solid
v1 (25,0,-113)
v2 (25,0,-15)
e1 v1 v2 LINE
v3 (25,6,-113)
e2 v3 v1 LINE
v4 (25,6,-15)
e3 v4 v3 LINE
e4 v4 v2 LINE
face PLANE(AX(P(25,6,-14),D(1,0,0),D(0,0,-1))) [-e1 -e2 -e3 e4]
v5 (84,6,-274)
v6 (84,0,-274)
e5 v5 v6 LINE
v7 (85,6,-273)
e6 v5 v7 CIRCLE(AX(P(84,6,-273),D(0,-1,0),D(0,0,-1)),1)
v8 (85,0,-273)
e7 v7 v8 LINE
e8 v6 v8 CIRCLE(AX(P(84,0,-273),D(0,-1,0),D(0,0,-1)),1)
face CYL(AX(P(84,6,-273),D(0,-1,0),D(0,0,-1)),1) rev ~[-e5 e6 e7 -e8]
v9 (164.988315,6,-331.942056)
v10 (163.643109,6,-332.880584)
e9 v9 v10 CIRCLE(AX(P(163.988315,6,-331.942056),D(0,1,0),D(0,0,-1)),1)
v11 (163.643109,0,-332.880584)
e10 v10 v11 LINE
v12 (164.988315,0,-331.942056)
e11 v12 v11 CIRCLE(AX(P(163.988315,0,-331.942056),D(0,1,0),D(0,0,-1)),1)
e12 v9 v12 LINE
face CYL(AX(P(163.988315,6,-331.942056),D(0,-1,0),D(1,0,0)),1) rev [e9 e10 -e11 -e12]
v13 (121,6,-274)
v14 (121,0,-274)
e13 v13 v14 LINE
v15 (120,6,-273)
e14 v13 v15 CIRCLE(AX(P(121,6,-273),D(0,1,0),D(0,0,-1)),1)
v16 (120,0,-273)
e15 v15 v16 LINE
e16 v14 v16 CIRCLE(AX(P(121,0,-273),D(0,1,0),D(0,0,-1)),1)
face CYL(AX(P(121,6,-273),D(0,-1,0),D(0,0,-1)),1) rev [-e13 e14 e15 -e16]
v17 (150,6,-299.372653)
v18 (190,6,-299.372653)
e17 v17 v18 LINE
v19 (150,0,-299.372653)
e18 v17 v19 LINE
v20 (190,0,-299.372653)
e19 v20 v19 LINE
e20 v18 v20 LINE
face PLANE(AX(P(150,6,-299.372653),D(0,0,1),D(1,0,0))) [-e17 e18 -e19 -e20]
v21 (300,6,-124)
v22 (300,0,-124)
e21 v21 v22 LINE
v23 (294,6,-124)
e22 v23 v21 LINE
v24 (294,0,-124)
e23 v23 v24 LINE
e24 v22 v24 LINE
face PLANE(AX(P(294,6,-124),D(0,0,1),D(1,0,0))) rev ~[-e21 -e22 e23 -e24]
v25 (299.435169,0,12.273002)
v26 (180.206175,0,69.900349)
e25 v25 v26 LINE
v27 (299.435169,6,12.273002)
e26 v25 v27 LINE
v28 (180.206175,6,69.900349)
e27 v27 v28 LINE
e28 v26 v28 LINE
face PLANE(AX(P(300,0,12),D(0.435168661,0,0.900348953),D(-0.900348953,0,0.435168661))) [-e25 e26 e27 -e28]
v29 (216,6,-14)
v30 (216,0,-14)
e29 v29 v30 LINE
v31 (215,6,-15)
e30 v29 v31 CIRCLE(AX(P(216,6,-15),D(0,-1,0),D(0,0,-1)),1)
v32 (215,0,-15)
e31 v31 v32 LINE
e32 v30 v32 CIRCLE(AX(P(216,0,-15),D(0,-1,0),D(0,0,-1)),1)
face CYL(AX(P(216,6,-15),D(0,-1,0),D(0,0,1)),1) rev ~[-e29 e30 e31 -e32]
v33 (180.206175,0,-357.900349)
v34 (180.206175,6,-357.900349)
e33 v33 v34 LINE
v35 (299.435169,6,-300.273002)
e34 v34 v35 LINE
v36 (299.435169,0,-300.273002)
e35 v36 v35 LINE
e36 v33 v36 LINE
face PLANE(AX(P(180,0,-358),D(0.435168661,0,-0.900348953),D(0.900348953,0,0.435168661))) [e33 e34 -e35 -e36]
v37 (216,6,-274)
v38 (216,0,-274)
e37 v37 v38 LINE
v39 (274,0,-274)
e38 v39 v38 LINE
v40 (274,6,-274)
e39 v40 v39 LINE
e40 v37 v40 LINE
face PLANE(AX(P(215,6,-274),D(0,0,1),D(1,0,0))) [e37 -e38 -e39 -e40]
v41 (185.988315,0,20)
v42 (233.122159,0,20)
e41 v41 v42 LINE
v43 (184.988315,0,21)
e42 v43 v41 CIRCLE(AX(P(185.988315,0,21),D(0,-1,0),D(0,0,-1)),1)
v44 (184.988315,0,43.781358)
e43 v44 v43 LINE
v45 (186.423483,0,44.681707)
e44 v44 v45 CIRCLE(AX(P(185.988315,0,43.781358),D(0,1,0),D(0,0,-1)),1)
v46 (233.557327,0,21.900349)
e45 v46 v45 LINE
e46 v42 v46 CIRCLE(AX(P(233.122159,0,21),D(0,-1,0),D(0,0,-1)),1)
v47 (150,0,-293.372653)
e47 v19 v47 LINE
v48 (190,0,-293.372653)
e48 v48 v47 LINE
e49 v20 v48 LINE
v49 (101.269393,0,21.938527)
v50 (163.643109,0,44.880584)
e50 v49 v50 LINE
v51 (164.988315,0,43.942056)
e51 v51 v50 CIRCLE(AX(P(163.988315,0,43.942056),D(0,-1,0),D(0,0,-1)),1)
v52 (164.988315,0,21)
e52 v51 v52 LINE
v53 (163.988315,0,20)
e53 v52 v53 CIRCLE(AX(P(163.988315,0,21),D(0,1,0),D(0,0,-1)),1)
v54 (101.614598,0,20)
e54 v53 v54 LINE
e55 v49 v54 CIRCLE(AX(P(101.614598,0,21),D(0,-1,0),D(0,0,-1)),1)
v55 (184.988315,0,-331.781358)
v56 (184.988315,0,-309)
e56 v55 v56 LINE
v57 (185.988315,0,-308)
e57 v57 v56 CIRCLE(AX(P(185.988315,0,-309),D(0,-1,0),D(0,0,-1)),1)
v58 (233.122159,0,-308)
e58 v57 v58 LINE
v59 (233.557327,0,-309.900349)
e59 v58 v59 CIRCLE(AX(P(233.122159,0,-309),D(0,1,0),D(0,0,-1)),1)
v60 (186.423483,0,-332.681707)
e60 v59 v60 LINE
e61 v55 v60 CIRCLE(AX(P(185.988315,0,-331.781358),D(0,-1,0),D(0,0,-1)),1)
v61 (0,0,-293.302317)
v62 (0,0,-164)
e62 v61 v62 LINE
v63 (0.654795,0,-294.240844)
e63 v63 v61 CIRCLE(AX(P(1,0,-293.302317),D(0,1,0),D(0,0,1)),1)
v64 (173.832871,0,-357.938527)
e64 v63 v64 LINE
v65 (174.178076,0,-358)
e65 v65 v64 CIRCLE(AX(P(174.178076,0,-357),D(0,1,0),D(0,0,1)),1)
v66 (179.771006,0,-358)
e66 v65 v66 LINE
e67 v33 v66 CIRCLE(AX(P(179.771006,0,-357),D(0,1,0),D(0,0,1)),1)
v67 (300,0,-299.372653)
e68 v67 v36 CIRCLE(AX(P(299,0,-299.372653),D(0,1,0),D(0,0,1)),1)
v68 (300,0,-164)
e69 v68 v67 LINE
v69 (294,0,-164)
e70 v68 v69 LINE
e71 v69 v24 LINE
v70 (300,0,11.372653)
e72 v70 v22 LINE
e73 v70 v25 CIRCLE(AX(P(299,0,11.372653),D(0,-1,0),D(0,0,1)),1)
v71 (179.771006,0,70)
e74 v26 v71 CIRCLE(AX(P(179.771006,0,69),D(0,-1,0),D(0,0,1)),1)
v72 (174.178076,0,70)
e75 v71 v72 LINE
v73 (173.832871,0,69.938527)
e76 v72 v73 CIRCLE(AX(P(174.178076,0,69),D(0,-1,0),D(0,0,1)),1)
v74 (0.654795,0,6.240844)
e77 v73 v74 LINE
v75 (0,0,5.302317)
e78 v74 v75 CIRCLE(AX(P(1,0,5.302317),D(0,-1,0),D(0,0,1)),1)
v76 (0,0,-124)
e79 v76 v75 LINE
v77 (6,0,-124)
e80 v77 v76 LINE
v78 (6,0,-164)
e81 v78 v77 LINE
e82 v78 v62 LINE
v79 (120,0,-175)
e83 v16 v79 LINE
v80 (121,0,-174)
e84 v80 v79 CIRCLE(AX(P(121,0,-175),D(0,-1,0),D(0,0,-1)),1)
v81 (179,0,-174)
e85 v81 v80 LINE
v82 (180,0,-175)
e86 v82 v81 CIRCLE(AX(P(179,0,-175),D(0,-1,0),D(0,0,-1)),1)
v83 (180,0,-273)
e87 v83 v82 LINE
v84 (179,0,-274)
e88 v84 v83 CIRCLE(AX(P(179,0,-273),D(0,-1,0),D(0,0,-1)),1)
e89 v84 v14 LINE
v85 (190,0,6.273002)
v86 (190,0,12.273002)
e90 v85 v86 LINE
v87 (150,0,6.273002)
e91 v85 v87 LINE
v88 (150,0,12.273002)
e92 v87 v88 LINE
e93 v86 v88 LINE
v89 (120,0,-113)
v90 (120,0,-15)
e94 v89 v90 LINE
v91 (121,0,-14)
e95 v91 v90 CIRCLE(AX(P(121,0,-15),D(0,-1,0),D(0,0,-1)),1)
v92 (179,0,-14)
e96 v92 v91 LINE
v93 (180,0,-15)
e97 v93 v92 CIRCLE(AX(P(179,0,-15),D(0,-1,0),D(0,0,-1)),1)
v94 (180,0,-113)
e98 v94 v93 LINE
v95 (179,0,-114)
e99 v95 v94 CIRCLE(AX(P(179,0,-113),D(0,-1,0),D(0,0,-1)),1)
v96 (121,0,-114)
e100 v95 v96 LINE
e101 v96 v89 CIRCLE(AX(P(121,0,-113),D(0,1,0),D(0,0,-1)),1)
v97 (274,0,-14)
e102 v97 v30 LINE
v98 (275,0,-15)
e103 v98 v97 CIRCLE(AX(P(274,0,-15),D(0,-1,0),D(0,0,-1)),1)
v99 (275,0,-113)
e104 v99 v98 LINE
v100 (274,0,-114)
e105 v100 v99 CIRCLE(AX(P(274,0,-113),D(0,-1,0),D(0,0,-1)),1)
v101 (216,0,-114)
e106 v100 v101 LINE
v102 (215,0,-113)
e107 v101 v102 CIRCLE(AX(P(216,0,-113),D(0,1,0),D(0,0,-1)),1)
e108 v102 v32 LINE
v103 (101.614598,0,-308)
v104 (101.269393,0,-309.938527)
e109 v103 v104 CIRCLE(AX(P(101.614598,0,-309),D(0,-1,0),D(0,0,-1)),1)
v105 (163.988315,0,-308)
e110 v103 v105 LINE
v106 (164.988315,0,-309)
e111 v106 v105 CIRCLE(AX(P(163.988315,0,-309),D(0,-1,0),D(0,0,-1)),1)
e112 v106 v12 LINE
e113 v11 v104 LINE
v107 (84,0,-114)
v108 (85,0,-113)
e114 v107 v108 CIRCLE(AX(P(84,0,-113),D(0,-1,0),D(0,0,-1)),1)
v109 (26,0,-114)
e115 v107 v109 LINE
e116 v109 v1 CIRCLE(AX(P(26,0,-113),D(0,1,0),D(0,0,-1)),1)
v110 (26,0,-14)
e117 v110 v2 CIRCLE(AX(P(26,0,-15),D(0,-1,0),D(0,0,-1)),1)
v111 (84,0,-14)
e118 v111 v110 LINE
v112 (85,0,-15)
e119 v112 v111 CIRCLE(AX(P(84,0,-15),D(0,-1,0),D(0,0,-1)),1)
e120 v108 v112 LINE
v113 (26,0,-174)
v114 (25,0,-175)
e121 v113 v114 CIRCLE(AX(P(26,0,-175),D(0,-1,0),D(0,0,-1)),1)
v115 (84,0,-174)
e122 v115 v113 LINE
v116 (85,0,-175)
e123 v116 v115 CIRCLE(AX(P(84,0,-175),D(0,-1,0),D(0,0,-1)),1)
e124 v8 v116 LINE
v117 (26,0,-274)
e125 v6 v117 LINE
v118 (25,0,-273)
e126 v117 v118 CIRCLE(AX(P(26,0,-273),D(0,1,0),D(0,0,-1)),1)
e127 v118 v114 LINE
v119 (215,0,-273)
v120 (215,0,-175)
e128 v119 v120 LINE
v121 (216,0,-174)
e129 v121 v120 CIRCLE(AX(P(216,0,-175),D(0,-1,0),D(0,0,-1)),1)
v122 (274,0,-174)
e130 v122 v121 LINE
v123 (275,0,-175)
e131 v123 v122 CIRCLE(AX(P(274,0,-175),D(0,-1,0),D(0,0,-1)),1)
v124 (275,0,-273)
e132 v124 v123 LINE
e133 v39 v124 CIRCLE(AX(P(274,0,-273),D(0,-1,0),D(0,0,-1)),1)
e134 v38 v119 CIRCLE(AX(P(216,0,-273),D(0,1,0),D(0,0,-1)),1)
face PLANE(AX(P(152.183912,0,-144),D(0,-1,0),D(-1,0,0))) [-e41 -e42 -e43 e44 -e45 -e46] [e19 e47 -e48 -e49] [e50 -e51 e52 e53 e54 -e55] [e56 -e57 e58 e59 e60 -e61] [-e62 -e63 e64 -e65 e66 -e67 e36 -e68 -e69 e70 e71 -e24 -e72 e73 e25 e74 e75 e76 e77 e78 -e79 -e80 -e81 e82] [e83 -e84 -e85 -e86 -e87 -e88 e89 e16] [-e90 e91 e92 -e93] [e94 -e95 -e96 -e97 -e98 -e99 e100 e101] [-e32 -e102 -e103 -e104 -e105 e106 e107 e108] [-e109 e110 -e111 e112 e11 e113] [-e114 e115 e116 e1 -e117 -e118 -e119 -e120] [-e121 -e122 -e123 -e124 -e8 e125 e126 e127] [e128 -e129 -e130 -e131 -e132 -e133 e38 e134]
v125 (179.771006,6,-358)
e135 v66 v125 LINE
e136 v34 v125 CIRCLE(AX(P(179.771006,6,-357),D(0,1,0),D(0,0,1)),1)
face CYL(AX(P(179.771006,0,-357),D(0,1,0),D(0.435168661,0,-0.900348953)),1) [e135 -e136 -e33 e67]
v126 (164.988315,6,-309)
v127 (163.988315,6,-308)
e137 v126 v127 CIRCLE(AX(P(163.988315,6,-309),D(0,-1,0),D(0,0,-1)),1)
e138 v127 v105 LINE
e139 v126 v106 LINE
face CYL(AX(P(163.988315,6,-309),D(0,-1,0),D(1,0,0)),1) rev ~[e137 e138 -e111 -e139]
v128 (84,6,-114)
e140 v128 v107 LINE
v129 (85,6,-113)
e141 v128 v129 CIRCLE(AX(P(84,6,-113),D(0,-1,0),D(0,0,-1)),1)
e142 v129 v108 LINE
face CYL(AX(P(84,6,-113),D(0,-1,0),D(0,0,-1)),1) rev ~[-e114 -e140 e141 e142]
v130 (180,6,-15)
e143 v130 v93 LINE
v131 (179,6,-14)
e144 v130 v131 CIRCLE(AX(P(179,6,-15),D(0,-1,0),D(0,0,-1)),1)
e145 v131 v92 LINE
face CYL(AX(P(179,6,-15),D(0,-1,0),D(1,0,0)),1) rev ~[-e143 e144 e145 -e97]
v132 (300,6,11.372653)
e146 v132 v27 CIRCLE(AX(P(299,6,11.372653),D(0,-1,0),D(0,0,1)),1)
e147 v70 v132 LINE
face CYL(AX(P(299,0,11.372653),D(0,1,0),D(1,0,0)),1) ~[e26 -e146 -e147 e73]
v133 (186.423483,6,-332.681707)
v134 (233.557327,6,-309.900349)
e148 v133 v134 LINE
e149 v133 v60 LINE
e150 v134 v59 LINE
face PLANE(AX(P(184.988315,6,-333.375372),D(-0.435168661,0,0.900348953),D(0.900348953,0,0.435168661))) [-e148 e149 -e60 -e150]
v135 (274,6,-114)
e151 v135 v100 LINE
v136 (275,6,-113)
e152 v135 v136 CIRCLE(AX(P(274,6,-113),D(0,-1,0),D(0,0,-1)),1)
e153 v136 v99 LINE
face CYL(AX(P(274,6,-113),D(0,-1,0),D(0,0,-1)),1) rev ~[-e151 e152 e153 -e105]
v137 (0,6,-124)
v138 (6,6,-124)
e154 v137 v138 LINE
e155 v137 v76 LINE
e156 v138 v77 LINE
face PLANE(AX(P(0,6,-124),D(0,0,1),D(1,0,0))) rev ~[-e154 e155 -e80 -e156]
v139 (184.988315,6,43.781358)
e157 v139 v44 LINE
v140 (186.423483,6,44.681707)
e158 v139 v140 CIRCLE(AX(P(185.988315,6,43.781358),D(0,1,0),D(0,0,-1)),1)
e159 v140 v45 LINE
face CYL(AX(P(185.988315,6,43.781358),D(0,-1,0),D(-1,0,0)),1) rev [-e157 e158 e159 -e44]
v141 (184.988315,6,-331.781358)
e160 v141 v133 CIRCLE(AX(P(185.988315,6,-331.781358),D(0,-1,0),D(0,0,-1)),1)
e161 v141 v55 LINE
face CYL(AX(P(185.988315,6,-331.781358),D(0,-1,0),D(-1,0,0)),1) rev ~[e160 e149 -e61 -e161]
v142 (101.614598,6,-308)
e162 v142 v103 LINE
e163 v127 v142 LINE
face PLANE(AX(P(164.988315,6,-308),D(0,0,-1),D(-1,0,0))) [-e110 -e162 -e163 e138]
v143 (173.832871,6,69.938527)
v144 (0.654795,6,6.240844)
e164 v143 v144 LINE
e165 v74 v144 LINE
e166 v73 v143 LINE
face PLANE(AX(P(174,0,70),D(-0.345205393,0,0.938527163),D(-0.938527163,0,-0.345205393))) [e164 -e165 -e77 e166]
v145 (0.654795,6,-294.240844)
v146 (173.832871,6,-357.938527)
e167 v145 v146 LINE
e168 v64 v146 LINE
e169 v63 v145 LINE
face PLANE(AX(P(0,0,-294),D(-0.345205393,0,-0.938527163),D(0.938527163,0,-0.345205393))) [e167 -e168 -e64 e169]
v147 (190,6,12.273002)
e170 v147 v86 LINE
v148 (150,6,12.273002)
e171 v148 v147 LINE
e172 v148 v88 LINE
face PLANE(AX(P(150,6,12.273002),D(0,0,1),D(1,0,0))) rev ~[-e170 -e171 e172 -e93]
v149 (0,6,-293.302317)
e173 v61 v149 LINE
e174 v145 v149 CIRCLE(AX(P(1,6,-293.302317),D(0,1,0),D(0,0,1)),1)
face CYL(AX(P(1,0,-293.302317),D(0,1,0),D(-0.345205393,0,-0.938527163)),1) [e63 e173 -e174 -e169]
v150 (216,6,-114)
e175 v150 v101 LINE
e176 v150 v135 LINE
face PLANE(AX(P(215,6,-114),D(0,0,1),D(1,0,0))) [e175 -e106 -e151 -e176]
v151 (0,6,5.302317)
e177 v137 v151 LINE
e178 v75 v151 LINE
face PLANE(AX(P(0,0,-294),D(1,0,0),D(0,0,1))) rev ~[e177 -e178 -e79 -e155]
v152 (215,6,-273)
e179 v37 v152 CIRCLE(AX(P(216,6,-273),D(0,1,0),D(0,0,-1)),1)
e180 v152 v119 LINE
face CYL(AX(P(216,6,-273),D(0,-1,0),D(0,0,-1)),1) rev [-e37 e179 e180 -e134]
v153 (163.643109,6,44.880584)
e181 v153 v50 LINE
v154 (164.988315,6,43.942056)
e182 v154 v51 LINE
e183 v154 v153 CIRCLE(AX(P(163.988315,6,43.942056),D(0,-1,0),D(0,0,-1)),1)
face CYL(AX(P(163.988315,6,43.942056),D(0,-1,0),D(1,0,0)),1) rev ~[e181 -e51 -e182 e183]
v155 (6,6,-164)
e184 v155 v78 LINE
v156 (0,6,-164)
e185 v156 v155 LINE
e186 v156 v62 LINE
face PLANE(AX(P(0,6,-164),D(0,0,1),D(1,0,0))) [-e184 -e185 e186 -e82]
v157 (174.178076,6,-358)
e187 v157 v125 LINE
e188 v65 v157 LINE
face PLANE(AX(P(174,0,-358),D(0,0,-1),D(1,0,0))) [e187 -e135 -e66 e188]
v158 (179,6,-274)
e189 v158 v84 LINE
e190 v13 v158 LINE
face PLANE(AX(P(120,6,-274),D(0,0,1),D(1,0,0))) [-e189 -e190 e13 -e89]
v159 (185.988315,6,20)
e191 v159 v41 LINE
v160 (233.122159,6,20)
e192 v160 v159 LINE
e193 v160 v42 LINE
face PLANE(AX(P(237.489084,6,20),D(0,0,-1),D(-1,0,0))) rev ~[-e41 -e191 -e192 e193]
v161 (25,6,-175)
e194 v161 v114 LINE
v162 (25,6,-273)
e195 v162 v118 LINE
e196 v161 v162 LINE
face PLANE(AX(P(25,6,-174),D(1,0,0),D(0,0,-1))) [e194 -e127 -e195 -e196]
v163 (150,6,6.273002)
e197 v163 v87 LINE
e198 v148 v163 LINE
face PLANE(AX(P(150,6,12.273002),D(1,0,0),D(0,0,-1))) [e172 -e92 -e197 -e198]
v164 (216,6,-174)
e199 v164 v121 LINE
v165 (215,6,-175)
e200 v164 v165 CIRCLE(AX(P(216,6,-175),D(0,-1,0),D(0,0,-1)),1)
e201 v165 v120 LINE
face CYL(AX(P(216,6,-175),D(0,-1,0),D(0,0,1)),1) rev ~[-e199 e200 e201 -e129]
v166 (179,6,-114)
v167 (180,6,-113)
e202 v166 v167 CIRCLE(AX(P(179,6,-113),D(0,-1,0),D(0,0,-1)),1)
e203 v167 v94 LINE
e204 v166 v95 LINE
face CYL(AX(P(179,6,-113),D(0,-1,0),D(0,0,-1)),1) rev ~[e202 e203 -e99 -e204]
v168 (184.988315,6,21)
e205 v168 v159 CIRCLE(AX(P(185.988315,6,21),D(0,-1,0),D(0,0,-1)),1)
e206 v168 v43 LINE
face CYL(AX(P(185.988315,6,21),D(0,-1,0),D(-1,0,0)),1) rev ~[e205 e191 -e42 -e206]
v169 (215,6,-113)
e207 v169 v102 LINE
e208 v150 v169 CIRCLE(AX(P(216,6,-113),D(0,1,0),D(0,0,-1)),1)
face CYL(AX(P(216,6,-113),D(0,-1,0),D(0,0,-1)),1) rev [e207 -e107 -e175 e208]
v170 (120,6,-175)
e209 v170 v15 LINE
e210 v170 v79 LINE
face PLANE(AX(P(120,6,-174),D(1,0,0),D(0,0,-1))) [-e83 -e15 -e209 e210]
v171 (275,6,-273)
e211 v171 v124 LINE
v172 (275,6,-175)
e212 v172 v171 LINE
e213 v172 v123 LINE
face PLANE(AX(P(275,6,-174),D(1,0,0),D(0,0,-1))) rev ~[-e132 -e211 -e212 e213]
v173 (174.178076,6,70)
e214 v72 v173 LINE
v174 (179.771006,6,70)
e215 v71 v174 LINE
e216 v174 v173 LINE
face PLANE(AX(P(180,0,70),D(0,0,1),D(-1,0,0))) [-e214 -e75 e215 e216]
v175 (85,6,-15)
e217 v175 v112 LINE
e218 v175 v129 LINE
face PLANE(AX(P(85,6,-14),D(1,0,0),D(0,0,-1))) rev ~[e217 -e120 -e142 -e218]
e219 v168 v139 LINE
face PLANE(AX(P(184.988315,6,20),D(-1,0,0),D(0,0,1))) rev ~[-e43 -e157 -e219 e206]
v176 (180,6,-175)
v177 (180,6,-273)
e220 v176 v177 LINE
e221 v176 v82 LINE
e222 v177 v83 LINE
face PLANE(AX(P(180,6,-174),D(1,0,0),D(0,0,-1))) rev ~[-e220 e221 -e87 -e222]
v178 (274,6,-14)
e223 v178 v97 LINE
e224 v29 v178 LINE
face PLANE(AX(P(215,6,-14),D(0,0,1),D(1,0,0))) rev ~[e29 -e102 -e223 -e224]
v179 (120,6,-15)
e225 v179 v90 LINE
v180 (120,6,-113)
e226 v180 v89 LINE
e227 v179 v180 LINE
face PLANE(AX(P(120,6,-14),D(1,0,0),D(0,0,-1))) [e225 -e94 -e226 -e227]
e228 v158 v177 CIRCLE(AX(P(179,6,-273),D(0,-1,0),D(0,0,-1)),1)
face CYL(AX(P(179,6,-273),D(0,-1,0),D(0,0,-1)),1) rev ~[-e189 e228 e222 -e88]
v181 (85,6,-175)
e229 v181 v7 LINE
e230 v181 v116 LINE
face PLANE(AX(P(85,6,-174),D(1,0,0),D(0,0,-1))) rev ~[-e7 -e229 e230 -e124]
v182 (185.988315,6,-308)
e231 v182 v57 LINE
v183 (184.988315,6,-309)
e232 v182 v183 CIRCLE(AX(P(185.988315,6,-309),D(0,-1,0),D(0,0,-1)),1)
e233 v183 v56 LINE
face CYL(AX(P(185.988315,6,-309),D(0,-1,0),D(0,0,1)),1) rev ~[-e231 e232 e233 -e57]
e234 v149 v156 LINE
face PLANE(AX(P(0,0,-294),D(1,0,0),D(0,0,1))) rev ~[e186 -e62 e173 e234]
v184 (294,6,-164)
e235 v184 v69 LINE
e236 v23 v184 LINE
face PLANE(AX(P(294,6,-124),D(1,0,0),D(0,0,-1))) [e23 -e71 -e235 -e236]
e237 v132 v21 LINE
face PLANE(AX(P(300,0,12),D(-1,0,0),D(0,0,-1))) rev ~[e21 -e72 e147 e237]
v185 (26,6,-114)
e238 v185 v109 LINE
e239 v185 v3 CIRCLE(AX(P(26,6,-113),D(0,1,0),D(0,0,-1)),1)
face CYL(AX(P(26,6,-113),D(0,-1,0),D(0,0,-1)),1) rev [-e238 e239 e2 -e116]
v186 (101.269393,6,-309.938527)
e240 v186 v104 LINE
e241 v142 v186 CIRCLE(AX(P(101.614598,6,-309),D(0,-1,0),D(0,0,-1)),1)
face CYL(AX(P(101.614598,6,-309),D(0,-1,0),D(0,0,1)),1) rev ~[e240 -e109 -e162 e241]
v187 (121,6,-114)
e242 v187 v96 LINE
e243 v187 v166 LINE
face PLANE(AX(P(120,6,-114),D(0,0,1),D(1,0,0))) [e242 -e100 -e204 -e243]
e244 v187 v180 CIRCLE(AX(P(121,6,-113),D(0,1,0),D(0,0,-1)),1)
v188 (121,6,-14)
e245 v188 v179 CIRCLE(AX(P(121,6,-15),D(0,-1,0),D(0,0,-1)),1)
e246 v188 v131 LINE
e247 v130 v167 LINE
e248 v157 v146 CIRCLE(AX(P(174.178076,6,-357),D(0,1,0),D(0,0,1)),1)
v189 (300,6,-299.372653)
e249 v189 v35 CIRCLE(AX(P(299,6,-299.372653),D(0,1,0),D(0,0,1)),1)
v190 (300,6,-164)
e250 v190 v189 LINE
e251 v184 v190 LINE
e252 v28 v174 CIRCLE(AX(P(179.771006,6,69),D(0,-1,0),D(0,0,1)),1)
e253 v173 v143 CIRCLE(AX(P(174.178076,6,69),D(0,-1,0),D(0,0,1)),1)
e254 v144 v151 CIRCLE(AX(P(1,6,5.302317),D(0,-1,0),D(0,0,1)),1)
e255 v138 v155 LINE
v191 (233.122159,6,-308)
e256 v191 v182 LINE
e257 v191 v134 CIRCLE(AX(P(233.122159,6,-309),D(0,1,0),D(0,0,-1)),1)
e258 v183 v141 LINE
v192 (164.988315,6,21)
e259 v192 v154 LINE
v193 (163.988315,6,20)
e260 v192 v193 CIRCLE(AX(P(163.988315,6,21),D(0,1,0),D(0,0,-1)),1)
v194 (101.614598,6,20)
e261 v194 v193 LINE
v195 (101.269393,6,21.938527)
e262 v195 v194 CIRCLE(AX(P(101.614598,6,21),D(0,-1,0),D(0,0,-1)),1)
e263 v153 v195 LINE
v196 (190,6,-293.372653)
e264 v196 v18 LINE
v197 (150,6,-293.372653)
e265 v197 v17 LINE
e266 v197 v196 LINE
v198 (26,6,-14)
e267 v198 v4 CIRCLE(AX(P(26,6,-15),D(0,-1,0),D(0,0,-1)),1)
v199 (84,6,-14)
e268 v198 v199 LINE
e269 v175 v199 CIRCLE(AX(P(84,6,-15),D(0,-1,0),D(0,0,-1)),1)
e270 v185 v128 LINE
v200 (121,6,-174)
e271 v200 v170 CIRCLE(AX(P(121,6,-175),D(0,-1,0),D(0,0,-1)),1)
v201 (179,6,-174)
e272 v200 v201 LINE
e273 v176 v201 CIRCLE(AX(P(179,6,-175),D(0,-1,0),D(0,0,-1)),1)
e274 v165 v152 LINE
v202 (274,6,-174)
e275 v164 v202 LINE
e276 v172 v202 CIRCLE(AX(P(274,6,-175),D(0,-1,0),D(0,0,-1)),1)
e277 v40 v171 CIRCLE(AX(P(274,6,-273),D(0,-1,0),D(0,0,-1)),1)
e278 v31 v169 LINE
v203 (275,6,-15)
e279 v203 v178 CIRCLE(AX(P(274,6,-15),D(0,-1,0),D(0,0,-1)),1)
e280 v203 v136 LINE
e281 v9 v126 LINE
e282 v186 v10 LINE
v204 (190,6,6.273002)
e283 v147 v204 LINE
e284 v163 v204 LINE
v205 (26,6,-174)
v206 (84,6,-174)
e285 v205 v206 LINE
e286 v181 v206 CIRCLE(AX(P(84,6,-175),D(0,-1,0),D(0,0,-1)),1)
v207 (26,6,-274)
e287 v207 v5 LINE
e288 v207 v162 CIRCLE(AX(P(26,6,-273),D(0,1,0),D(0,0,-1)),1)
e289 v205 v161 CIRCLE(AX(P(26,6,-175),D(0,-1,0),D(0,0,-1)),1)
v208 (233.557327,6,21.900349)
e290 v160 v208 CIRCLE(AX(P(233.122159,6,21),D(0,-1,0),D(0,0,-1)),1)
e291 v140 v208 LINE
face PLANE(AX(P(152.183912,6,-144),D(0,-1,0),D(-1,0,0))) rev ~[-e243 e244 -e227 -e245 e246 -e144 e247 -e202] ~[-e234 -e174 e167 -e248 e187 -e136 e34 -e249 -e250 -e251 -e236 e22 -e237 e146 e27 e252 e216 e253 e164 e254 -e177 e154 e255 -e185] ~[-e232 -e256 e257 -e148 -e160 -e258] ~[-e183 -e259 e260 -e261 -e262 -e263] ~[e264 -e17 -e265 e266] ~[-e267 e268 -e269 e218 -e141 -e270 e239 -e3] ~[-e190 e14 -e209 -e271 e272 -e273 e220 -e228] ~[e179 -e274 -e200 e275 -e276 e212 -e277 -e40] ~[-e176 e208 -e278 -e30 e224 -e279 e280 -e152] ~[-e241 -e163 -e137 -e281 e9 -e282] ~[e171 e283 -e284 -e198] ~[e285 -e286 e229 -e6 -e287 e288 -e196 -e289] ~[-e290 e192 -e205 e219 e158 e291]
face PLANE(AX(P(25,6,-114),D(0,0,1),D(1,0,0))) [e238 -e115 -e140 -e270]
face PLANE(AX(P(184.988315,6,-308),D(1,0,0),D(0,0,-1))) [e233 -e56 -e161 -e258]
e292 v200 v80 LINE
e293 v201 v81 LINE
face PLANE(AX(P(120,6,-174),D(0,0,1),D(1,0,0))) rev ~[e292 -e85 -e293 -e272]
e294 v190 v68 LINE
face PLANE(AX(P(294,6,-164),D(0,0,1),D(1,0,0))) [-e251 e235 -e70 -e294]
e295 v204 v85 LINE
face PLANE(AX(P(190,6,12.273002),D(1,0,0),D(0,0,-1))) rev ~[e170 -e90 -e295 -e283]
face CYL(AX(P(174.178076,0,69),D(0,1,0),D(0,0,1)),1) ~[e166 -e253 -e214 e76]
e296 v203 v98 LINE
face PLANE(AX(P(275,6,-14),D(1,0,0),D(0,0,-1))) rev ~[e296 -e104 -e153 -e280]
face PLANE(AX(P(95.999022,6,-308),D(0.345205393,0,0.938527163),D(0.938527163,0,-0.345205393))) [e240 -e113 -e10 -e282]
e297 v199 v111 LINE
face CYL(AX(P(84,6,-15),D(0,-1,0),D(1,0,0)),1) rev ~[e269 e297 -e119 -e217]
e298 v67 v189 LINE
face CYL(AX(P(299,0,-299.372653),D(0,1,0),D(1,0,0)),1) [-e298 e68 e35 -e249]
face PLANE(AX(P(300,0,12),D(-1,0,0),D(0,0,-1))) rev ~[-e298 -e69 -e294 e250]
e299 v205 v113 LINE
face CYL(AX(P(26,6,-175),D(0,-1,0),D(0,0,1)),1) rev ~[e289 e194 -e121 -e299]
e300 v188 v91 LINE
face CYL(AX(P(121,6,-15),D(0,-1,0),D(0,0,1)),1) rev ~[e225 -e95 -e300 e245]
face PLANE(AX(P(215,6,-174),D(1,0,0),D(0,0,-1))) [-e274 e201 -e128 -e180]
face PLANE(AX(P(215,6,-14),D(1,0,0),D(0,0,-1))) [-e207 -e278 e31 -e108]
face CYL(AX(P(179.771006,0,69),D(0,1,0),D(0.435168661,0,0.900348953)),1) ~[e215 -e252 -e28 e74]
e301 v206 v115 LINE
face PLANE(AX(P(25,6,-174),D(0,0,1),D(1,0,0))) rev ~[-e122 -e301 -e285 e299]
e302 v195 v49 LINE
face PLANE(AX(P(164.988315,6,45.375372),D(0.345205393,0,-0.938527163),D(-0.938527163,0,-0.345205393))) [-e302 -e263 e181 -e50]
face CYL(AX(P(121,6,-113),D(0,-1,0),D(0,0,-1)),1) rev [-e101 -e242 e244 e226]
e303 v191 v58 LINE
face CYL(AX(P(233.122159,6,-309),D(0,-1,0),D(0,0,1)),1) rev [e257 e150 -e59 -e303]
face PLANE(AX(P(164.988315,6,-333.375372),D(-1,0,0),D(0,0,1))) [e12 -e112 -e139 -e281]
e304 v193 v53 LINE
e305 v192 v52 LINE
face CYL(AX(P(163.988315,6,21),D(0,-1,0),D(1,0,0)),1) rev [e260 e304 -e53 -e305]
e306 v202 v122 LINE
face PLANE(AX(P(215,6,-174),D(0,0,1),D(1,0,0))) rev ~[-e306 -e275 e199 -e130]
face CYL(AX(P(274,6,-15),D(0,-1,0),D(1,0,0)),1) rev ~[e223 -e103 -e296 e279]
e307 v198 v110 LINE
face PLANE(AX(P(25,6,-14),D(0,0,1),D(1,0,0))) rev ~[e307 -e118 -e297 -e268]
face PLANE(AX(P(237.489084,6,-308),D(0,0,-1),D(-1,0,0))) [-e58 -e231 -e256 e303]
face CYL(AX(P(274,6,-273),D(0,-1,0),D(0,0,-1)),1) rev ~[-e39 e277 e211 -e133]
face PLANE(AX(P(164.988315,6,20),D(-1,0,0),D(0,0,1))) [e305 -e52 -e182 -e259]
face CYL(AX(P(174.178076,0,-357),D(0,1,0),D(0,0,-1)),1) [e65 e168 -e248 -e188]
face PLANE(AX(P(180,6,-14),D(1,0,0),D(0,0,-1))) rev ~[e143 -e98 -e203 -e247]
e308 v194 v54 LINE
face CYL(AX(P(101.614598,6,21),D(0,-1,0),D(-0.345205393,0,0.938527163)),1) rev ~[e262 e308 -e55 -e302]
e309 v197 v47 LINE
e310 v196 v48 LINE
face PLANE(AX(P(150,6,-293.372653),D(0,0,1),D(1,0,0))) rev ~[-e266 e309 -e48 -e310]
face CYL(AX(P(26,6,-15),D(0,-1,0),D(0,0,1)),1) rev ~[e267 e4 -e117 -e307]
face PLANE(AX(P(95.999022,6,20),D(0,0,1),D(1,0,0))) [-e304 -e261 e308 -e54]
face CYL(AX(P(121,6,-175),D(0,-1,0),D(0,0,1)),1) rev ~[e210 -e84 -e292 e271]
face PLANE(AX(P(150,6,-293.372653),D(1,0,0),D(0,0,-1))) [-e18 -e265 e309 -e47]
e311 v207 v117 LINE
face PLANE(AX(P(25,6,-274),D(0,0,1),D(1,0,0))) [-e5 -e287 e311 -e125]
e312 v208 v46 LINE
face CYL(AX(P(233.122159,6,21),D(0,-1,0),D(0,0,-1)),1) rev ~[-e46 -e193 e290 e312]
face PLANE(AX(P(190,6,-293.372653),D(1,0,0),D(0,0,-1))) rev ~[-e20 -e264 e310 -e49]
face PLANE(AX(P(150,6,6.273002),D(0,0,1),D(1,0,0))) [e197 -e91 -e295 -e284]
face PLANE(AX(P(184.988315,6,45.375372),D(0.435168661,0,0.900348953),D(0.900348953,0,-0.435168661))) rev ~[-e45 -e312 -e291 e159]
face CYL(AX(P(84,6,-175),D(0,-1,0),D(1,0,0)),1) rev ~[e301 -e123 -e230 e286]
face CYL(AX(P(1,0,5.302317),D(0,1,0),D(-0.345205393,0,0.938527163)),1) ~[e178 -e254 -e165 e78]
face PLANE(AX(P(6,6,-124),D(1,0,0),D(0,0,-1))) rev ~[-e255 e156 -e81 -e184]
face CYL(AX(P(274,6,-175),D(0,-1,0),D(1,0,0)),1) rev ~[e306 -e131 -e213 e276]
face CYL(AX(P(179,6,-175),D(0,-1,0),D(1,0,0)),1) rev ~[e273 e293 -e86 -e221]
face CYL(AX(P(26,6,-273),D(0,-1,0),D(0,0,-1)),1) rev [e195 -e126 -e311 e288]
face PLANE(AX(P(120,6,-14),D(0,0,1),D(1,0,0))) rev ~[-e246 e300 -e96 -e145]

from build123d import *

# Parameters (mm, degrees)
SUPPORT_DEPTH = 6
SKETCH2_W     = 60
SKETCH2_H     = 100
LITE_DEPTH    = 468.118828565
FILLET1_R     = 1
FILLET2_R     = 1
SKETCH3_W     = 6
SKETCH3_H     = 40
SKETCH3_W_2   = 40
SKETCH3_H_2   = 6
MOUNT_DEPTH   = 468.118828565


with BuildPart() as part:
    # Sketch1 → support (new body)
    with BuildSketch(Plane(origin=(0, 0, 0), x_dir=(1, 0, 0), z_dir=(0, 1, 0))):
        Polygon((300, 0), (300, -12), (180, -70), (174, -70), (0, -6), (0, 0), (0, 288), (0, 294), (174, 358), (180, 358), (300, 300), (300, 288), align=None)
    extrude(amount=SUPPORT_DEPTH)

    # Sketch2 → lite (cut, through all)
    with BuildSketch(Plane(origin=(0, 6, 0), x_dir=(1, 0, 0), z_dir=(0, 1, 0))):
        Polygon((95.999022376, -20), (164.988314579, -20), (164.988314579, -45.375371845), align=None)
        Polygon((184.988314579, -20), (184.988314579, -45.375371845), (237.489083913, -20), align=None)
        Polygon((95.999022376, 308), (164.988314579, 333.375371845), (164.988314579, 308), align=None)
        Polygon((184.988314579, 333.375371845), (237.489083913, 308), (184.988314579, 308), align=None)
        with Locations((245, 64)):
            Rectangle(SKETCH2_W, SKETCH2_H)
        with Locations((150, 64)):
            Rectangle(SKETCH2_W, SKETCH2_H)
        with Locations((55, 64)):
            Rectangle(SKETCH2_W, SKETCH2_H)
        with Locations((55, 224)):
            Rectangle(SKETCH2_W, SKETCH2_H)
        with Locations((150, 224)):
            Rectangle(SKETCH2_W, SKETCH2_H)
        with Locations((245, 224)):
            Rectangle(SKETCH2_W, SKETCH2_H)
    extrude(amount=-LITE_DEPTH, mode=Mode.SUBTRACT)

    # Fillet1
    fillet1_edges = [part.edges().sort_by_distance(p)[0] for p in [
        (0, 3, -294),
        (174, 3, -358),
        (180, 3, -358),
        (300, 3, -300),
        (300, 3, 12),
        (180, 3, 70),
        (174, 3, 70),
        (0, 3, 6),
    ]]
    fillet(fillet1_edges, radius=FILLET1_R)

    # Fillet2
    fillet2_edges = [part.edges().sort_by_distance(p)[0] for p in [
        (85, 3, -114),
        (85, 3, -14),
        (25, 3, -14),
        (25, 3, -114),
        (85, 3, -274),
        (85, 3, -174),
        (25, 3, -174),
        (25, 3, -274),
        (180, 3, -274),
        (180, 3, -174),
        (120, 3, -174),
        (120, 3, -274),
        (275, 3, -274),
        (275, 3, -174),
        (215, 3, -174),
        (215, 3, -274),
        (164.988314579, 3, 45.375371845),
        (95.999022376, 3, 20),
        (164.988314579, 3, 20),
        (184.988314579, 3, 20),
        (237.489083913, 3, 20),
        (184.988314579, 3, 45.375371845),
        (164.988314579, 3, -308),
        (95.999022376, 3, -308),
        (164.988314579, 3, -333.375371845),
        (184.988314579, 3, -308),
        (184.988314579, 3, -333.375371845),
        (237.489083913, 3, -308),
        (275, 3, -114),
        (275, 3, -14),
        (215, 3, -14),
        (215, 3, -114),
        (180, 3, -114),
        (180, 3, -14),
        (120, 3, -14),
        (120, 3, -114),
    ]]
    fillet(fillet2_edges, radius=FILLET2_R)

    # Sketch3 → mount (cut, through all)
    with BuildSketch(Plane(origin=(0, 6, 0), x_dir=(1, 0, 0), z_dir=(0, 1, 0))):
        with Locations((3, 144)):
            Rectangle(SKETCH3_W, SKETCH3_H)
        with Locations((297, 144)):
            Rectangle(SKETCH3_W, SKETCH3_H)
        with Locations((170, -9.273001814)):
            Rectangle(SKETCH3_W_2, SKETCH3_H_2)
        with Locations((170, 296.372652861)):
            Rectangle(SKETCH3_W_2, SKETCH3_H_2)
    extrude(amount=-MOUNT_DEPTH, mode=Mode.SUBTRACT)


solid = part.part
